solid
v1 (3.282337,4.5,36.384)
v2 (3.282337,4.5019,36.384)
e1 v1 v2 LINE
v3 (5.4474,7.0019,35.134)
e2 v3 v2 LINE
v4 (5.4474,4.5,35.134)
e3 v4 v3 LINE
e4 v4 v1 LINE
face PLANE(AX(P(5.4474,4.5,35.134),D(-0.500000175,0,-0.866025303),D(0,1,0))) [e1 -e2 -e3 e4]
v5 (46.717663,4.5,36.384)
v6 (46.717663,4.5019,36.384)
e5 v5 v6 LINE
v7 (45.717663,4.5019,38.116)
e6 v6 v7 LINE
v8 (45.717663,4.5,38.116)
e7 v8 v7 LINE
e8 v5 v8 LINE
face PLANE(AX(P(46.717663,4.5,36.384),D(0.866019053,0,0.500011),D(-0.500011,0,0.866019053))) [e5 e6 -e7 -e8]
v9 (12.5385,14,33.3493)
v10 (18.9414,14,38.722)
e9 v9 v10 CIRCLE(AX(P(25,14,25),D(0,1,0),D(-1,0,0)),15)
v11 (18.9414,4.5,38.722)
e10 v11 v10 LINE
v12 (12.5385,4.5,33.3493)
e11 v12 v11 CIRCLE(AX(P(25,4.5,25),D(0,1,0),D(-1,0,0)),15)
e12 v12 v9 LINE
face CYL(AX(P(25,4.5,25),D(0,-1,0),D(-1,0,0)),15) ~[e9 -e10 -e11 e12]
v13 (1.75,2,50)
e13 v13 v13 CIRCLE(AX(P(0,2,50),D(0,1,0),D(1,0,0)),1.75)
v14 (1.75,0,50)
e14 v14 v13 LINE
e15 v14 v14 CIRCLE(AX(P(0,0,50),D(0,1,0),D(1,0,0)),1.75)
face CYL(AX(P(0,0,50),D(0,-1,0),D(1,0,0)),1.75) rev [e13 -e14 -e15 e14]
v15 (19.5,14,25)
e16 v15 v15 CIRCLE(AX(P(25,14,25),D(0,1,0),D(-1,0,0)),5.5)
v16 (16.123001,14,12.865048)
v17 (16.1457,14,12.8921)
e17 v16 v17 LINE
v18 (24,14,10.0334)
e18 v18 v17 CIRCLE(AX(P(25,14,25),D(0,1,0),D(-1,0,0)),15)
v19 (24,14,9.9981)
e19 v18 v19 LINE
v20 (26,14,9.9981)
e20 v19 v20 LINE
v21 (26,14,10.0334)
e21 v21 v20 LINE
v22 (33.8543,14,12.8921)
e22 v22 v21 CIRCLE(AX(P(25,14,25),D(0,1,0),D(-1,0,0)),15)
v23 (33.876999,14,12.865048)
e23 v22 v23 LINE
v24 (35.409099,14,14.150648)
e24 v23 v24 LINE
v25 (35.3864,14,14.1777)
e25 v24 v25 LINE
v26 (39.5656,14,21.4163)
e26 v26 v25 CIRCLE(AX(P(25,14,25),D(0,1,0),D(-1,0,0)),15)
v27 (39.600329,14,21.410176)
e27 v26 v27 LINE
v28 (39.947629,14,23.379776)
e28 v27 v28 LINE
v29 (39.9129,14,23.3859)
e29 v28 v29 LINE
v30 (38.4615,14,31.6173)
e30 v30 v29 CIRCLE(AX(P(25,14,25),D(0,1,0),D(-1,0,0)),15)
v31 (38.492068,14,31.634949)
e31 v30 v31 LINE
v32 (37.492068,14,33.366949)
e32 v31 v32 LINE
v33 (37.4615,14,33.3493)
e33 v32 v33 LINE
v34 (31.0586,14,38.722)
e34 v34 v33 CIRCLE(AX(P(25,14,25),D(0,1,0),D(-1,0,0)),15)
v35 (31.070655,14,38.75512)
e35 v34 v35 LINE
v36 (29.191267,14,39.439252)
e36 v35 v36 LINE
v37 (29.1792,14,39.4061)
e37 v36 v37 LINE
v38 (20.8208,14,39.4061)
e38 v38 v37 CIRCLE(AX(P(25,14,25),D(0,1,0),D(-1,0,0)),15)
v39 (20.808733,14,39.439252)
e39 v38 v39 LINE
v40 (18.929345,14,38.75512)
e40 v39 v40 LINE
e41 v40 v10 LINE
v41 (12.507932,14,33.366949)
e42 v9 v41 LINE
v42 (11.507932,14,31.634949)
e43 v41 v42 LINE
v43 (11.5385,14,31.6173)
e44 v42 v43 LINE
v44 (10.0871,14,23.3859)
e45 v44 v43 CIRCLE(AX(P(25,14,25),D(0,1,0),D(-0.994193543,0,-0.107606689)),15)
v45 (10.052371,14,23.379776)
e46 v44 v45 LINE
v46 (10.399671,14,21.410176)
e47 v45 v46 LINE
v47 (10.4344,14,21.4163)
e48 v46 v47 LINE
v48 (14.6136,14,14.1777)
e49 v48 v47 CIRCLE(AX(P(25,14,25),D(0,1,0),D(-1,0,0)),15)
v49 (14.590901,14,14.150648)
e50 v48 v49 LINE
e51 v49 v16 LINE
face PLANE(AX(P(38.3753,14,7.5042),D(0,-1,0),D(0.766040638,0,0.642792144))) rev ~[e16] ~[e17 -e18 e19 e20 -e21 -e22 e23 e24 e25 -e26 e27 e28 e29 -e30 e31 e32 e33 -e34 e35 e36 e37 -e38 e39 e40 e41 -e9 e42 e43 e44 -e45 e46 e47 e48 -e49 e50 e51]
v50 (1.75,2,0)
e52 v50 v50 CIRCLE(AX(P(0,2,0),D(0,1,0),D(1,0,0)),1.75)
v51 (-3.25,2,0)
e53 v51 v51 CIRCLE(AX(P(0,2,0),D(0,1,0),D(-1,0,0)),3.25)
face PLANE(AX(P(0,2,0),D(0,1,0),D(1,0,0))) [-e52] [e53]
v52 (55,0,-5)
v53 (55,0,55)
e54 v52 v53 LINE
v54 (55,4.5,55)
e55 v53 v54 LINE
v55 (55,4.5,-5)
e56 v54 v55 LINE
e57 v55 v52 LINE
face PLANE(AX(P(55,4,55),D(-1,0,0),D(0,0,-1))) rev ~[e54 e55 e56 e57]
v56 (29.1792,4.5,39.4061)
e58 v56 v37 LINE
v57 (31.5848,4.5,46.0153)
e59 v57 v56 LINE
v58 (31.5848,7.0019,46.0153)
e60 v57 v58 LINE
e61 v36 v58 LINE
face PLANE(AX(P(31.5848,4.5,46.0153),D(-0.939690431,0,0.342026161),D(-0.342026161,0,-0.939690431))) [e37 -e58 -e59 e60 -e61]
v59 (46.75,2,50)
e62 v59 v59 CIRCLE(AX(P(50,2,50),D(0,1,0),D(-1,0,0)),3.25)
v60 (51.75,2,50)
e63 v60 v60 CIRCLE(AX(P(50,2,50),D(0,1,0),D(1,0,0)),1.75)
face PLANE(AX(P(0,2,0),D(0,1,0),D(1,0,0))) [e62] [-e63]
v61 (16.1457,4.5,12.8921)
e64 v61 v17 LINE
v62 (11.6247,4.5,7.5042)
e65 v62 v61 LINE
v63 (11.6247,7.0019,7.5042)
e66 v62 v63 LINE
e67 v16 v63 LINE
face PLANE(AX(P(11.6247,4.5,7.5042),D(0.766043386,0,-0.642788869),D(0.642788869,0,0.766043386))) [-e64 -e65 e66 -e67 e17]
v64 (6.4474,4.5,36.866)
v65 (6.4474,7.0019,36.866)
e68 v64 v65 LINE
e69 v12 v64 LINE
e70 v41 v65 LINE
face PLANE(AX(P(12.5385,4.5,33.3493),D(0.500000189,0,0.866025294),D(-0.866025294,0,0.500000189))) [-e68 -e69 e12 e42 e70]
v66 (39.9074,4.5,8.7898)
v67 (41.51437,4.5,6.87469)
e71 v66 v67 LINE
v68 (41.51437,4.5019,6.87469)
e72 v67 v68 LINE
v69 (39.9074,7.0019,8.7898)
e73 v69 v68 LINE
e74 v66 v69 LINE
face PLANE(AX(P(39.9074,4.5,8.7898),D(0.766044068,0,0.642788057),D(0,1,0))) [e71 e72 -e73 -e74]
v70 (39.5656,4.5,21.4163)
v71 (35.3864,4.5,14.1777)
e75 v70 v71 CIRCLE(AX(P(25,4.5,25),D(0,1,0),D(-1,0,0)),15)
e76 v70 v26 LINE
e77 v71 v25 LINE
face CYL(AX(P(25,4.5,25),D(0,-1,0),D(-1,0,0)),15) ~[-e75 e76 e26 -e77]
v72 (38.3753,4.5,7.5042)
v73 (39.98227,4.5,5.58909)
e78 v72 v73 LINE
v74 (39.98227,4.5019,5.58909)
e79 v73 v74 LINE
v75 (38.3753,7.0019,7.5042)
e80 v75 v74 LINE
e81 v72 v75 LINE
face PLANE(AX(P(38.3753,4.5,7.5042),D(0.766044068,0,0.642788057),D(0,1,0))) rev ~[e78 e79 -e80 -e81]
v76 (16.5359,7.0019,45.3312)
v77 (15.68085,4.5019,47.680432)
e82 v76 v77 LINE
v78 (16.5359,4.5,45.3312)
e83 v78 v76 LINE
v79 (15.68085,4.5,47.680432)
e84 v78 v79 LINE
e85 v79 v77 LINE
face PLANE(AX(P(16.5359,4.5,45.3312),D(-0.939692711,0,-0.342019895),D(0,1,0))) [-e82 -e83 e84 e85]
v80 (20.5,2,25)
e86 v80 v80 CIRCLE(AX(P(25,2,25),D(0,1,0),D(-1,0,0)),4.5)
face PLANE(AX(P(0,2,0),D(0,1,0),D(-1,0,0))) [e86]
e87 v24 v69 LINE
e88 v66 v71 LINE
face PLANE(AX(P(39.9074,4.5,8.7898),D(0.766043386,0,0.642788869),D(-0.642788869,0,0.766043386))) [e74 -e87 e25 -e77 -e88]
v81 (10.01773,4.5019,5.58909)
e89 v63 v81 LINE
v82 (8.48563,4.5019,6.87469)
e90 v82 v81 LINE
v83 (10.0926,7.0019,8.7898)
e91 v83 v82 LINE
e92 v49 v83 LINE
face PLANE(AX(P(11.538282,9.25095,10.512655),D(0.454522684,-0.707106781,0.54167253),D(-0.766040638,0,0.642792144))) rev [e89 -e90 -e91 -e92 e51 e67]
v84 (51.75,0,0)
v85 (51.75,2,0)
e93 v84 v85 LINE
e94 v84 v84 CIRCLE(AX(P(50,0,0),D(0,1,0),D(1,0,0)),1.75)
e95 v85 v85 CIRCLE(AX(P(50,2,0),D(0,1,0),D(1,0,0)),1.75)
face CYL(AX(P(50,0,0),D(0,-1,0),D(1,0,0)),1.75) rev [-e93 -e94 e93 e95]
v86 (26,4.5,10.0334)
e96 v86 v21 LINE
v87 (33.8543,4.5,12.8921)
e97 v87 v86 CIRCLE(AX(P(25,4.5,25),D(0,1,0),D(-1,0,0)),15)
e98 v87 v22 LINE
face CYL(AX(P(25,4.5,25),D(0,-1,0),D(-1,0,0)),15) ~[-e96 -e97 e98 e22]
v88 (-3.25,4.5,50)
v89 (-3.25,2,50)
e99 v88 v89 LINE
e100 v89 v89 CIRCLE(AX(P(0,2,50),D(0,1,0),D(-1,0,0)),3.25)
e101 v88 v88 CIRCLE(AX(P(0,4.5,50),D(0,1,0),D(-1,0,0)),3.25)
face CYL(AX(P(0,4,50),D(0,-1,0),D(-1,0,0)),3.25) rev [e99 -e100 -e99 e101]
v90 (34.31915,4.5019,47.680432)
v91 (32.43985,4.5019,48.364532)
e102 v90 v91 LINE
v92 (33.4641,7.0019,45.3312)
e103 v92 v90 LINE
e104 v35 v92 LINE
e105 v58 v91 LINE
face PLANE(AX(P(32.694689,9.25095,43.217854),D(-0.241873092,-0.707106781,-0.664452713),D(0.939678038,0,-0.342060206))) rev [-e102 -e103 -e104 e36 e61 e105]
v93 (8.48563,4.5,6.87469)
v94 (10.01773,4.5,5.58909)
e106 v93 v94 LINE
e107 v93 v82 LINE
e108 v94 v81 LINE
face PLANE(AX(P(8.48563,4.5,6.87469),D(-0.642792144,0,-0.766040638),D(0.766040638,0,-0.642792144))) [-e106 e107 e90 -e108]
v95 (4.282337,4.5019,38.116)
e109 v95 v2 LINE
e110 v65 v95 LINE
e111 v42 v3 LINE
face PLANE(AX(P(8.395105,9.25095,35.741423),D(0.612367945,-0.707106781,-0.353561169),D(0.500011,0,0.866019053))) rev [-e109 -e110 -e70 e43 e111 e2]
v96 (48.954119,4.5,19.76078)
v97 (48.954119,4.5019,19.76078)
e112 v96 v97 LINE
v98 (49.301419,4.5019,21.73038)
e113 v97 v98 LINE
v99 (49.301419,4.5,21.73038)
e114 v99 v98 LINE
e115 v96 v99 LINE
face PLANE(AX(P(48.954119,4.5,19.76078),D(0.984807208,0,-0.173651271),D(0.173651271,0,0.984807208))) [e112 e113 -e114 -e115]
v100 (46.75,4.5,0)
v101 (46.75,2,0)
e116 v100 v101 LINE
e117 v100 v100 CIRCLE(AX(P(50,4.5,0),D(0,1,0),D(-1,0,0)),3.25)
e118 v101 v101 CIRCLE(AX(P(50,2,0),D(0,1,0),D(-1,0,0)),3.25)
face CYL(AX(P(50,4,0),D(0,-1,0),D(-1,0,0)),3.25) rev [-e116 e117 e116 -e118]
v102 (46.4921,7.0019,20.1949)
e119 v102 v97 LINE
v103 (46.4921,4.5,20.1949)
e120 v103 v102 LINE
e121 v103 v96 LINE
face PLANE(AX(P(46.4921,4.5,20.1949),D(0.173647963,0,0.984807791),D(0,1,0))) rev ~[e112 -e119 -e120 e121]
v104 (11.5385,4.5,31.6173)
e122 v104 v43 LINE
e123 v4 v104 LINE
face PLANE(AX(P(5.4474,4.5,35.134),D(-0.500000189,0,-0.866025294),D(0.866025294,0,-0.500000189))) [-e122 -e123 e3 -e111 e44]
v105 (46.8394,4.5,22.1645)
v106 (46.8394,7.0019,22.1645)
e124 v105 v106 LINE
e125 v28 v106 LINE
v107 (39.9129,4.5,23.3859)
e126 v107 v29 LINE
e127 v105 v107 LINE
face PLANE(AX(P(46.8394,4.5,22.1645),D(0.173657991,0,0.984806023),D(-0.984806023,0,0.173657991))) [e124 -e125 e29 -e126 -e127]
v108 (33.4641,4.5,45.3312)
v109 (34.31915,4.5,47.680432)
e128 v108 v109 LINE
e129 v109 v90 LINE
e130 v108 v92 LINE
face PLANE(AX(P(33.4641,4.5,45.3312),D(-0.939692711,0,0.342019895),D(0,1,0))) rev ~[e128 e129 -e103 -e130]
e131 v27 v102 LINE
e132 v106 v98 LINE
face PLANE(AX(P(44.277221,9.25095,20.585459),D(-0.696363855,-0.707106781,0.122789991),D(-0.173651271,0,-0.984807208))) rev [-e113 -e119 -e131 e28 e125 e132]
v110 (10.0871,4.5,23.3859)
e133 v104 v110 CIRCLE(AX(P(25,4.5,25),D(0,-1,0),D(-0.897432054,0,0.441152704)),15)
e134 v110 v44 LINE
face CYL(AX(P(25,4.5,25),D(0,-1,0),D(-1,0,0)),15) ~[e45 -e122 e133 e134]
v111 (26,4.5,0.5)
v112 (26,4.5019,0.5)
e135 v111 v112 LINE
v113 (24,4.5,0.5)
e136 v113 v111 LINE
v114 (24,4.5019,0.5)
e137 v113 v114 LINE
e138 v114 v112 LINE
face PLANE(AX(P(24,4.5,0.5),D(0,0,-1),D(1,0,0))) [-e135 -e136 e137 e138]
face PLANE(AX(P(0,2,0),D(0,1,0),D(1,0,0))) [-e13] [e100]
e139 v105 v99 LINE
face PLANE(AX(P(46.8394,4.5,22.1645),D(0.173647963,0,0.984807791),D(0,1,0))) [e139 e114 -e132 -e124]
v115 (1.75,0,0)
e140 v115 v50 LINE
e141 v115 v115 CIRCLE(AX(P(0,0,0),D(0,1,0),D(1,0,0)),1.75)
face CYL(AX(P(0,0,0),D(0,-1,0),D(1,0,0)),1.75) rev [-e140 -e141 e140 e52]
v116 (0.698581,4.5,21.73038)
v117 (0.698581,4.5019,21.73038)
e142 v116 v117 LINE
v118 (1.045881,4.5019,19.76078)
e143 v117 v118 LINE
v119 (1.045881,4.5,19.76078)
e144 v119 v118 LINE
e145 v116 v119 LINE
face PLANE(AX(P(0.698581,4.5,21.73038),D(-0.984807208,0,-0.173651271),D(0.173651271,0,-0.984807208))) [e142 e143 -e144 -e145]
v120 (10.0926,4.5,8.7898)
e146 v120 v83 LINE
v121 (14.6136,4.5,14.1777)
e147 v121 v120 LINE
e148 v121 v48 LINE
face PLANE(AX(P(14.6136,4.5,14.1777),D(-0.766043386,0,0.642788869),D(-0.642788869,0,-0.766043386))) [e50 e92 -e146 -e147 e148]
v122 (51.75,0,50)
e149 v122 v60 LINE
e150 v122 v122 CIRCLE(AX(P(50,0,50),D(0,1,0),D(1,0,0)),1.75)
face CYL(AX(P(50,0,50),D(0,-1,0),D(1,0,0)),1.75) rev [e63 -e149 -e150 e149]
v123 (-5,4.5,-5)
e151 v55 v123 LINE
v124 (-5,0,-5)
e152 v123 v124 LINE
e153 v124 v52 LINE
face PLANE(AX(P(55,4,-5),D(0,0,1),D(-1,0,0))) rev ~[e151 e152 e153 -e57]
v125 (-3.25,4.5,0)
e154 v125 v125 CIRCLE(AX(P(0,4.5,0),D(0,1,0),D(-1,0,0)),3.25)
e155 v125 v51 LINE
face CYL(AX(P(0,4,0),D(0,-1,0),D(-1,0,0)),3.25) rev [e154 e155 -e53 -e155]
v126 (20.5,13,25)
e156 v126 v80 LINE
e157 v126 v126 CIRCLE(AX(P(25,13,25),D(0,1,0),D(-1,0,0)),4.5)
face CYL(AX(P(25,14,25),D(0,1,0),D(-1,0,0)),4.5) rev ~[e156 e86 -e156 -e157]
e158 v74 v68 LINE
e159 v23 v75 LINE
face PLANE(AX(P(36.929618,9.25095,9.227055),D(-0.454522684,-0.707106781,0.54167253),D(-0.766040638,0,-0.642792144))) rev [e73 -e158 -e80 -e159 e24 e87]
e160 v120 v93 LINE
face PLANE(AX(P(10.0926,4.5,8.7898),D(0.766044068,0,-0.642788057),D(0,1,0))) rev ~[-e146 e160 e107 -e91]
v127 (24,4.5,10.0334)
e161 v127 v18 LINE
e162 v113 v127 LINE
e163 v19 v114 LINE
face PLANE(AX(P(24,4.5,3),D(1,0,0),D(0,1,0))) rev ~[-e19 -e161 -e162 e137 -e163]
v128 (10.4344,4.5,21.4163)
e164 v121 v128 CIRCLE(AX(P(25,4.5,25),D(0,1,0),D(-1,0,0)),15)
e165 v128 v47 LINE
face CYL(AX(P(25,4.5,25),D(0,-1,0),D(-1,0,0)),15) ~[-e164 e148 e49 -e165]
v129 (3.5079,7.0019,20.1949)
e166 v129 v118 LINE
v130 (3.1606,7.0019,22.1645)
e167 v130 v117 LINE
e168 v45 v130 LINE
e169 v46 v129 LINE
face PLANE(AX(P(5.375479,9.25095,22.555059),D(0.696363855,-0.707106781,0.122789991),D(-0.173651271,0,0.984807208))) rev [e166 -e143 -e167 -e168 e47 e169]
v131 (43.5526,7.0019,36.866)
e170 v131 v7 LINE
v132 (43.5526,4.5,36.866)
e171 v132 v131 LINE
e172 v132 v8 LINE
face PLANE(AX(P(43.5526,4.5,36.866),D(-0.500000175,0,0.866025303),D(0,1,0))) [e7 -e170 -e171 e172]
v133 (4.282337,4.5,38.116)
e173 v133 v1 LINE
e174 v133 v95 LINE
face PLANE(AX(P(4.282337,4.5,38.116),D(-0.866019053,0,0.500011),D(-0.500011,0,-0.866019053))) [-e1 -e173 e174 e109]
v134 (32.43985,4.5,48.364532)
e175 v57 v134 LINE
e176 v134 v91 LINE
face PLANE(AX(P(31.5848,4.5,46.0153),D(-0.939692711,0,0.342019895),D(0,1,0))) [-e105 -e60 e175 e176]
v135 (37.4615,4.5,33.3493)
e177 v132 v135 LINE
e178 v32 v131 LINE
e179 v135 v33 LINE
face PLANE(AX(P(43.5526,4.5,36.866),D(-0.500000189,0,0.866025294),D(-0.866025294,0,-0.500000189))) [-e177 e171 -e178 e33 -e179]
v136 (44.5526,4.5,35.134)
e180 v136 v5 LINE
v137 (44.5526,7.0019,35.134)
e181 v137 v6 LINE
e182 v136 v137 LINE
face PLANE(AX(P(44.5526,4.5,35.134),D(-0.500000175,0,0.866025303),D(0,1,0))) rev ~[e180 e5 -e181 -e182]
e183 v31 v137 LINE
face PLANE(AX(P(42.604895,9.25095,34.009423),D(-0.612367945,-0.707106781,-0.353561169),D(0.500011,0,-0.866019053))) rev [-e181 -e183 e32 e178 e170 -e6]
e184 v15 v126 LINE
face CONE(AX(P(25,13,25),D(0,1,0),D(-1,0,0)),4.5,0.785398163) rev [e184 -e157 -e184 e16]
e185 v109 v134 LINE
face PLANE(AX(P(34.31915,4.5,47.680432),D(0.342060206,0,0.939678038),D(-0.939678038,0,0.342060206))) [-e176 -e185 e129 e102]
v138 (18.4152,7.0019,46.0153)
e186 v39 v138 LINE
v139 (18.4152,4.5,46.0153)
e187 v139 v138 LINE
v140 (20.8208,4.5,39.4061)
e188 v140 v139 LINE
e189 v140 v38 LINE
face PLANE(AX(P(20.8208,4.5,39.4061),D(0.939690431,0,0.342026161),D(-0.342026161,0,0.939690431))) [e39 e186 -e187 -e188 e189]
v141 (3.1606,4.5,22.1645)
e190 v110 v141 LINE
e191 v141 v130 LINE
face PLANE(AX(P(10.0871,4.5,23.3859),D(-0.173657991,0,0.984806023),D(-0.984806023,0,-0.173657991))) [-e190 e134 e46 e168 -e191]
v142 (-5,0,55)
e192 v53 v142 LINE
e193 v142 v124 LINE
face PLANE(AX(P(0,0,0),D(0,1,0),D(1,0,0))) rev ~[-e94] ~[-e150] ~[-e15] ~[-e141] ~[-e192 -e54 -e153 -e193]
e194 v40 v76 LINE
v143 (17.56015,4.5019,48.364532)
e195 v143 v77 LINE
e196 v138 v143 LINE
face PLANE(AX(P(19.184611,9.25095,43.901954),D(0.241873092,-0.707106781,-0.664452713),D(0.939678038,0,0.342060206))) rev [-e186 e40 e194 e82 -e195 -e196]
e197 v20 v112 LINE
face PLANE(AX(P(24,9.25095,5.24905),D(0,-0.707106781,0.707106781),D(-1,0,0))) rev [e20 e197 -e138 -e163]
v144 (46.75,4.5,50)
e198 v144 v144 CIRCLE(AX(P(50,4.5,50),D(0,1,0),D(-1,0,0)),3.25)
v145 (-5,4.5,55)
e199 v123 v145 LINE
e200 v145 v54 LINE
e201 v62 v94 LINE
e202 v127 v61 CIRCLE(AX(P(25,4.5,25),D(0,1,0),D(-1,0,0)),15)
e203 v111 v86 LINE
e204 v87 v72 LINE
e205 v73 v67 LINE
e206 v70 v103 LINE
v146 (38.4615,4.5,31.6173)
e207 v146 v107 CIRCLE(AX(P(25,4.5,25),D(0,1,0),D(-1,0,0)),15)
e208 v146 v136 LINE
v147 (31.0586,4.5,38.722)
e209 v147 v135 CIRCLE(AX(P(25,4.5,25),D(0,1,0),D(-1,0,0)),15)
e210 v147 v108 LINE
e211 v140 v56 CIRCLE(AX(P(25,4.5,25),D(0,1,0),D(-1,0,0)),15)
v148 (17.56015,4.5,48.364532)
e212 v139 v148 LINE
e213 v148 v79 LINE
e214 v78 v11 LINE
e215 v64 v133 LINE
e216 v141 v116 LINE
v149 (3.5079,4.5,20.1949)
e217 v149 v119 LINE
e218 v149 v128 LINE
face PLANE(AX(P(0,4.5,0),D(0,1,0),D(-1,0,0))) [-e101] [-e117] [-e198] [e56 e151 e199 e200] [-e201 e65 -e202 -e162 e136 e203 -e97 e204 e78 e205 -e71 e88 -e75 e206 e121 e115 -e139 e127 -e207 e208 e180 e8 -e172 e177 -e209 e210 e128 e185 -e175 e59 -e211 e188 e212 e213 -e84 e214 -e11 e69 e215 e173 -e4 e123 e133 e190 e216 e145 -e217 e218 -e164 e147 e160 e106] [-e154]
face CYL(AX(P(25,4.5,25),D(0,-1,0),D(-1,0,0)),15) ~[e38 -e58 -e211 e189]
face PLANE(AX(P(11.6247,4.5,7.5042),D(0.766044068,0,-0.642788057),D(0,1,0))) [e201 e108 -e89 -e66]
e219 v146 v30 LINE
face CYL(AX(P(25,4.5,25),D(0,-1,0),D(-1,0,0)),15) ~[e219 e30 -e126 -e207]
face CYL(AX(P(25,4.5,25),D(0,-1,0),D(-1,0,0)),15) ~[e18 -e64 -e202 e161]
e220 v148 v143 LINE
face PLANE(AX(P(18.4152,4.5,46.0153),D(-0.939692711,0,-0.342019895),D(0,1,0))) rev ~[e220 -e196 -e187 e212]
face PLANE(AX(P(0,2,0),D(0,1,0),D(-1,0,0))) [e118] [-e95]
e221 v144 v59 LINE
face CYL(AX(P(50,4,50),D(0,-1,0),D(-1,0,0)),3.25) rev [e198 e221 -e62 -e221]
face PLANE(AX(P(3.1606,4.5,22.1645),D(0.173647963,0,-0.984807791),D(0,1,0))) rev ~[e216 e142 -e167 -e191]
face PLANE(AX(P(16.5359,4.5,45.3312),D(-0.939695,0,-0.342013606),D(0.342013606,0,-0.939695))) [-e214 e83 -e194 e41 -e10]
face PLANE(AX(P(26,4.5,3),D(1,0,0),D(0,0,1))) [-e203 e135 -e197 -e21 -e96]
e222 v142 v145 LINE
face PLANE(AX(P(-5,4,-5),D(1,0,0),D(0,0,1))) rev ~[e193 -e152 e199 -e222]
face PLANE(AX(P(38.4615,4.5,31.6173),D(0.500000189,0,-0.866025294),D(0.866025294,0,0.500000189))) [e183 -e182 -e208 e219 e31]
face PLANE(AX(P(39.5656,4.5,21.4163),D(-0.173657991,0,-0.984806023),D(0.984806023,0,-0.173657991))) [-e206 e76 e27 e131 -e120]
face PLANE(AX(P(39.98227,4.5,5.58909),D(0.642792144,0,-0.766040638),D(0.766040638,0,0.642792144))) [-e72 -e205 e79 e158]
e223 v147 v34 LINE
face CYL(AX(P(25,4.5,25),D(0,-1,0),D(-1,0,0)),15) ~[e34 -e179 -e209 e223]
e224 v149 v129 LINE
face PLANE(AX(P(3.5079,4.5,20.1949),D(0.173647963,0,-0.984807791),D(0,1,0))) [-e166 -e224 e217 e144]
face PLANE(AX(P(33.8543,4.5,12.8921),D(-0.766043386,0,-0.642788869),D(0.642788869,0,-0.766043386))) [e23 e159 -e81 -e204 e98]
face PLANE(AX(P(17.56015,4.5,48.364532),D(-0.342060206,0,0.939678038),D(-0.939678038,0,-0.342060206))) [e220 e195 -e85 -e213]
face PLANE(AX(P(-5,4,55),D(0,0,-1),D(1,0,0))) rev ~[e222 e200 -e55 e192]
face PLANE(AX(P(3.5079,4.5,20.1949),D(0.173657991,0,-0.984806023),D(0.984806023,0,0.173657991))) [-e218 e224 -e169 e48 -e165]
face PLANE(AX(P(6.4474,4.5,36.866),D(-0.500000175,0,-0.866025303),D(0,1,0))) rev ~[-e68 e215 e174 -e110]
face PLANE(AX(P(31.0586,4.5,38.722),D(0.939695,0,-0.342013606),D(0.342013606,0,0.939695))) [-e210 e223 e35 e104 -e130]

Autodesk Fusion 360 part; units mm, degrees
sketch "Sketch1" plane through (0, 0, 0) normal (0, 1, 0) x (1, 0, 0)
  circle A0 centre (0, 0) radius 1.75
  circle A1 centre (50, 0) radius 1.75
  circle A2 centre (0, -50) radius 1.75
  circle A3 centre (50, -50) radius 1.75
  circle A4 centre (25, -25) radius 4.5
  line L0 (-5, 5) -> (55, 5)
  line L1 (55, 5) -> (55, -55)
  line L2 (55, -55) -> (-5, -55)
  line L3 (-5, -55) -> (-5, 5)
  dimension "d1" = 50
  dimension "d2" = 50
  dimension "d3" = 3.5
  dimension "d4" = 3.5
  dimension "d5" = 3.5
  dimension "d6" = 3.5
  dimension "d7" = 9
extrude "Extrude1" add sketch "Sketch1" along normal blind 4 contours A4 | L0 L1 L2 L3
sketch "Sketch2" plane through (0, 4, 0) normal (0, 1, 0) x (-1, 0, 0)
  circle A0 centre (0, 0) radius 1.75
  circle A1 centre (-50, 0) radius 1.75
  circle A2 centre (0, 50) radius 1.75
  circle A3 centre (-50, 50) radius 1.75
  line L0 (5, 55) -> (-55, 55)
  line L1 (-55, 55) -> (-55, -5)
  line L2 (-55, -5) -> (5, -5)
  line L3 (5, -5) -> (5, 55)
  circle A4 centre (0, 0) radius 3.25
  circle A5 centre (-50, 0) radius 3.25
  circle A6 centre (0, 50) radius 3.25
  circle A7 centre (-50, 50) radius 3.25
  dimension "d10" = 6.5
  dimension "d11" = 6.5
  dimension "d12" = 6.5
  dimension "d13" = 6.5
extrude "Extrude2" add sketch "Sketch2" along normal blind 0.5 contours L0 L1 L2 L3
extrude "Extrude3" cut 1 faces at (-2.7314, 4, -0.2484) along direction (0, -1, 0) blind 2
extrude "Extrude4" cut 1 faces at (-2.7314, 4, 49.7516) along direction (0, -1, 0) blind 2
sketch "Sketch3" plane through (0, 4, 0) normal (0, 1, 0) x (-1, 0, 0)
  circle A0 centre (-50, 0) radius 3.25
  circle A1 centre (-50, 0) radius 1.75
extrude "Extrude5" cut sketch "Sketch3" against normal blind 2
extrude "Extrude6" cut 1 faces at (47.2686, 4, 49.7516) along direction (0, -1, 0) blind 2
sketch "Sketch4" plane through (0, 4.5, 0) normal (0, 1, 0) x (-1, 0, 0)
  circle A0 centre (-50, 50) radius 3.25
  circle A1 centre (-50, 0) radius 3.25
  circle A2 centre (0, 50) radius 3.25
  circle A3 centre (0, 0) radius 3.25
  line L0 (5, -5) -> (5, 55)
  line L1 (5, 55) -> (-55, 55)
  line L2 (-55, 55) -> (-55, -5)
  line L3 (-55, -5) -> (5, -5)
  line L4 (-24, 3) -> (-26, 3)
  line L5 (-10.0926, 8.7898) -> (-11.6247, 7.5042)
  line L6 (-3.1606, 22.1645) -> (-3.5079, 20.1949)
  line L7 (-6.4474, 36.866) -> (-5.4474, 35.134)
  line L8 (-18.4152, 46.0153) -> (-16.5359, 45.3312)
  line L9 (-33.4641, 45.3312) -> (-31.5848, 46.0153)
  line L10 (-44.5526, 35.134) -> (-43.5526, 36.866)
  line L11 (-46.4921, 20.1949) -> (-46.8394, 22.1645)
  line L12 (-38.3753, 7.5042) -> (-39.9074, 8.7898)
  circle A4 centre (-25, 25) radius 15
  line L13 (-11.6247, 7.5042) -> (-16.1457, 12.8921)
  line L14 (-14.6136, 14.1777) -> (-10.0926, 8.7898)
  line L15 (-24, 10.0334) -> (-24, 3)
  line L16 (-26, 3) -> (-26, 10.0334)
  line L17 (-33.8543, 12.8921) -> (-38.3753, 7.5042)
  line L18 (-39.9074, 8.7898) -> (-35.3864, 14.1777)
  line L19 (-39.5656, 21.4163) -> (-46.4921, 20.1949)
  line L20 (-46.8394, 22.1645) -> (-39.9129, 23.3859)
  line L21 (-38.4615, 31.6173) -> (-44.5526, 35.134)
  line L22 (-43.5526, 36.866) -> (-37.4615, 33.3493)
  line L23 (-31.0586, 38.722) -> (-33.4641, 45.3312)
  line L24 (-31.5848, 46.0153) -> (-29.1792, 39.4061)
  line L25 (-20.8208, 39.4061) -> (-18.4152, 46.0153)
  line L26 (-16.5359, 45.3312) -> (-18.9414, 38.722)
  line L27 (-12.5385, 33.3493) -> (-6.4474, 36.866)
  line L28 (-5.4474, 35.134) -> (-11.5385, 31.6173)
  line L29 (-10.0871, 23.3859) -> (-3.1606, 22.1645)
  line L30 (-3.5079, 20.1949) -> (-10.4344, 21.4163)
  line L31 (-25.8167, 5.0167) -> (-26, 3) construction
  arc A5 (-26, 5.025) -> (-25.8167, 5.0167) centre (-25, 25) ccw
  dimension "d27" = 30
extrude "Extrude7" add sketch "Sketch4" along normal blind 9.5 contours L4 A4 L15 L16 | A4 | L5 A4 L13 L14 | L12 A4 L17 L18 | L6 A4 L29 L30 | L11 A4 L19 L20 | L10 A4 L21 L22 | L7 A4 L27 L28 | L9 A4 L23 L24 | L8 A4 L25 L26
extrude "Extrude8" add 1 faces at (24.6667, 7.6667, 3) along direction (0, 0, -1) blind 2.5
chamfer "Chamfer1" distance 9.5 angle 45 1 edges at (25, 14, 0.5)
extrude "Extrude9" add 1 faces at (10.6033, 7.6667, 8.3613) along direction (-0.642788, 0, -0.766044) blind 2.5
extrude "Extrude10" add 1 faces at (3.2763, 7.6667, 21.508) along direction (-0.984808, 0, -0.173648) blind 2.5
extrude "Extrude11" add 1 faces at (6.1141, 7.6667, 36.2887) along direction (-0.866025, 0, 0.5) blind 2.5
extrude "Extrude12" add 1 faces at (17.7888, 7.6667, 45.7872) along direction (-0.34202, 0, 0.939693) blind 2.5
extrude "Extrude13" add 1 faces at (32.8377, 7.6667, 45.5592) along direction (0.34202, 0, 0.939693) blind 2.5
extrude "Extrude14" add 1 faces at (44.2192, 7.6667, 35.7113) along direction (0.866025, 0, 0.5) blind 2.5
extrude "Extrude15" add 1 faces at (46.6079, 7.6667, 20.8515) along direction (0.984808, 0, -0.173648) blind 2.5
extrude "Extrude16" add 1 faces at (38.886, 7.6667, 7.9328) along direction (0.642788, 0, -0.766044) blind 2.5
chamfer "Chamfer2" distance 9.5 angle 45 8 edges at (49.1278, 14, 20.7456) (40.7483, 14, 6.2319) (46.2176, 14, 37.25) (9.2517, 14, 6.2319) (33.3795, 14, 48.0225) (16.6205, 14, 48.0225) (3.7824, 14, 37.25) (0.8722, 14, 20.7456)
sketch "Sketch5" plane through (0, 14, 0) normal (0, 1, 0) x (-1, 0, 0)
  line L0 (-10.4015, 21.4105) -> (-10.0542, 23.3801)
  line L1 (-10.0542, 23.3801) -> (-10.0871, 23.3859)
  arc A0 (-10.0871, 23.3859) -> (-11.5385, 31.6173) centre (-25, 25) ccw
  line L2 (-11.5385, 31.6173) -> (-11.5096, 31.634)
  line L3 (-11.5096, 31.634) -> (-12.5096, 33.366)
  line L4 (-12.5096, 33.366) -> (-12.5385, 33.3493)
  arc A1 (-12.5385, 33.3493) -> (-18.9414, 38.722) centre (-25, 25) ccw
  line L5 (-18.9414, 38.722) -> (-18.93, 38.7534)
  line L6 (-18.93, 38.7534) -> (-20.8094, 39.4374)
  line L7 (-20.8094, 39.4374) -> (-20.8208, 39.4061)
  arc A2 (-20.8208, 39.4061) -> (-29.1792, 39.4061) centre (-25, 25) ccw
  line L8 (-29.1792, 39.4061) -> (-29.1906, 39.4374)
  line L9 (-29.1906, 39.4374) -> (-31.07, 38.7534)
  line L10 (-31.07, 38.7534) -> (-31.0586, 38.722)
  arc A3 (-31.0586, 38.722) -> (-37.4615, 33.3493) centre (-25, 25) ccw
  line L11 (-37.4615, 33.3493) -> (-37.4904, 33.366)
  line L12 (-37.4904, 33.366) -> (-38.4904, 31.634)
  line L13 (-38.4904, 31.634) -> (-38.4615, 31.6173)
  arc A4 (-38.4615, 31.6173) -> (-39.9129, 23.3859) centre (-25, 25) ccw
  line L14 (-39.9129, 23.3859) -> (-39.9458, 23.3801)
  line L15 (-39.9458, 23.3801) -> (-39.5985, 21.4105)
  line L16 (-39.5985, 21.4105) -> (-39.5656, 21.4163)
  arc A5 (-39.5656, 21.4163) -> (-35.3864, 14.1777) centre (-25, 25) ccw
  line L17 (-35.3864, 14.1777) -> (-35.4079, 14.1521)
  line L18 (-35.4079, 14.1521) -> (-33.8758, 12.8665)
  line L19 (-33.8758, 12.8665) -> (-33.8543, 12.8921)
  arc A6 (-33.8543, 12.8921) -> (-26, 10.0334) centre (-25, 25) ccw
  line L20 (-26, 10.0334) -> (-26, 10)
  line L21 (-26, 10) -> (-24, 10)
  line L22 (-24, 10) -> (-24, 10.0334)
  arc A7 (-24, 10.0334) -> (-16.1457, 12.8921) centre (-25, 25) ccw
  line L23 (-16.1457, 12.8921) -> (-16.1242, 12.8665)
  line L24 (-16.1242, 12.8665) -> (-14.5921, 14.1521)
  line L25 (-14.5921, 14.1521) -> (-14.6136, 14.1777)
  arc A8 (-14.6136, 14.1777) -> (-10.4344, 21.4163) centre (-25, 25) ccw
  line L26 (-10.4344, 21.4163) -> (-10.4015, 21.4105)
  circle A9 centre (-25, 25) radius 4.5
  dimension "d50" = 9
extrude "Extrude17" cut sketch "Sketch5" against normal blind 12 contours A9
chamfer "Chamfer3" distance 1 angle 45 1 edges at (29.1955, 14, 26.6273)
sketch "Sketch6" plane through (55, 0, 0) normal (1, 0, 0) x (0, 0, -1)
  line L0 (-55, 0) -> (5, 0)
  line L1 (5, 0) -> (5, 4.5)
  line L2 (5, 4.5) -> (-55, 4.5)
  line L3 (-55, 4.5) -> (-55, 0)
